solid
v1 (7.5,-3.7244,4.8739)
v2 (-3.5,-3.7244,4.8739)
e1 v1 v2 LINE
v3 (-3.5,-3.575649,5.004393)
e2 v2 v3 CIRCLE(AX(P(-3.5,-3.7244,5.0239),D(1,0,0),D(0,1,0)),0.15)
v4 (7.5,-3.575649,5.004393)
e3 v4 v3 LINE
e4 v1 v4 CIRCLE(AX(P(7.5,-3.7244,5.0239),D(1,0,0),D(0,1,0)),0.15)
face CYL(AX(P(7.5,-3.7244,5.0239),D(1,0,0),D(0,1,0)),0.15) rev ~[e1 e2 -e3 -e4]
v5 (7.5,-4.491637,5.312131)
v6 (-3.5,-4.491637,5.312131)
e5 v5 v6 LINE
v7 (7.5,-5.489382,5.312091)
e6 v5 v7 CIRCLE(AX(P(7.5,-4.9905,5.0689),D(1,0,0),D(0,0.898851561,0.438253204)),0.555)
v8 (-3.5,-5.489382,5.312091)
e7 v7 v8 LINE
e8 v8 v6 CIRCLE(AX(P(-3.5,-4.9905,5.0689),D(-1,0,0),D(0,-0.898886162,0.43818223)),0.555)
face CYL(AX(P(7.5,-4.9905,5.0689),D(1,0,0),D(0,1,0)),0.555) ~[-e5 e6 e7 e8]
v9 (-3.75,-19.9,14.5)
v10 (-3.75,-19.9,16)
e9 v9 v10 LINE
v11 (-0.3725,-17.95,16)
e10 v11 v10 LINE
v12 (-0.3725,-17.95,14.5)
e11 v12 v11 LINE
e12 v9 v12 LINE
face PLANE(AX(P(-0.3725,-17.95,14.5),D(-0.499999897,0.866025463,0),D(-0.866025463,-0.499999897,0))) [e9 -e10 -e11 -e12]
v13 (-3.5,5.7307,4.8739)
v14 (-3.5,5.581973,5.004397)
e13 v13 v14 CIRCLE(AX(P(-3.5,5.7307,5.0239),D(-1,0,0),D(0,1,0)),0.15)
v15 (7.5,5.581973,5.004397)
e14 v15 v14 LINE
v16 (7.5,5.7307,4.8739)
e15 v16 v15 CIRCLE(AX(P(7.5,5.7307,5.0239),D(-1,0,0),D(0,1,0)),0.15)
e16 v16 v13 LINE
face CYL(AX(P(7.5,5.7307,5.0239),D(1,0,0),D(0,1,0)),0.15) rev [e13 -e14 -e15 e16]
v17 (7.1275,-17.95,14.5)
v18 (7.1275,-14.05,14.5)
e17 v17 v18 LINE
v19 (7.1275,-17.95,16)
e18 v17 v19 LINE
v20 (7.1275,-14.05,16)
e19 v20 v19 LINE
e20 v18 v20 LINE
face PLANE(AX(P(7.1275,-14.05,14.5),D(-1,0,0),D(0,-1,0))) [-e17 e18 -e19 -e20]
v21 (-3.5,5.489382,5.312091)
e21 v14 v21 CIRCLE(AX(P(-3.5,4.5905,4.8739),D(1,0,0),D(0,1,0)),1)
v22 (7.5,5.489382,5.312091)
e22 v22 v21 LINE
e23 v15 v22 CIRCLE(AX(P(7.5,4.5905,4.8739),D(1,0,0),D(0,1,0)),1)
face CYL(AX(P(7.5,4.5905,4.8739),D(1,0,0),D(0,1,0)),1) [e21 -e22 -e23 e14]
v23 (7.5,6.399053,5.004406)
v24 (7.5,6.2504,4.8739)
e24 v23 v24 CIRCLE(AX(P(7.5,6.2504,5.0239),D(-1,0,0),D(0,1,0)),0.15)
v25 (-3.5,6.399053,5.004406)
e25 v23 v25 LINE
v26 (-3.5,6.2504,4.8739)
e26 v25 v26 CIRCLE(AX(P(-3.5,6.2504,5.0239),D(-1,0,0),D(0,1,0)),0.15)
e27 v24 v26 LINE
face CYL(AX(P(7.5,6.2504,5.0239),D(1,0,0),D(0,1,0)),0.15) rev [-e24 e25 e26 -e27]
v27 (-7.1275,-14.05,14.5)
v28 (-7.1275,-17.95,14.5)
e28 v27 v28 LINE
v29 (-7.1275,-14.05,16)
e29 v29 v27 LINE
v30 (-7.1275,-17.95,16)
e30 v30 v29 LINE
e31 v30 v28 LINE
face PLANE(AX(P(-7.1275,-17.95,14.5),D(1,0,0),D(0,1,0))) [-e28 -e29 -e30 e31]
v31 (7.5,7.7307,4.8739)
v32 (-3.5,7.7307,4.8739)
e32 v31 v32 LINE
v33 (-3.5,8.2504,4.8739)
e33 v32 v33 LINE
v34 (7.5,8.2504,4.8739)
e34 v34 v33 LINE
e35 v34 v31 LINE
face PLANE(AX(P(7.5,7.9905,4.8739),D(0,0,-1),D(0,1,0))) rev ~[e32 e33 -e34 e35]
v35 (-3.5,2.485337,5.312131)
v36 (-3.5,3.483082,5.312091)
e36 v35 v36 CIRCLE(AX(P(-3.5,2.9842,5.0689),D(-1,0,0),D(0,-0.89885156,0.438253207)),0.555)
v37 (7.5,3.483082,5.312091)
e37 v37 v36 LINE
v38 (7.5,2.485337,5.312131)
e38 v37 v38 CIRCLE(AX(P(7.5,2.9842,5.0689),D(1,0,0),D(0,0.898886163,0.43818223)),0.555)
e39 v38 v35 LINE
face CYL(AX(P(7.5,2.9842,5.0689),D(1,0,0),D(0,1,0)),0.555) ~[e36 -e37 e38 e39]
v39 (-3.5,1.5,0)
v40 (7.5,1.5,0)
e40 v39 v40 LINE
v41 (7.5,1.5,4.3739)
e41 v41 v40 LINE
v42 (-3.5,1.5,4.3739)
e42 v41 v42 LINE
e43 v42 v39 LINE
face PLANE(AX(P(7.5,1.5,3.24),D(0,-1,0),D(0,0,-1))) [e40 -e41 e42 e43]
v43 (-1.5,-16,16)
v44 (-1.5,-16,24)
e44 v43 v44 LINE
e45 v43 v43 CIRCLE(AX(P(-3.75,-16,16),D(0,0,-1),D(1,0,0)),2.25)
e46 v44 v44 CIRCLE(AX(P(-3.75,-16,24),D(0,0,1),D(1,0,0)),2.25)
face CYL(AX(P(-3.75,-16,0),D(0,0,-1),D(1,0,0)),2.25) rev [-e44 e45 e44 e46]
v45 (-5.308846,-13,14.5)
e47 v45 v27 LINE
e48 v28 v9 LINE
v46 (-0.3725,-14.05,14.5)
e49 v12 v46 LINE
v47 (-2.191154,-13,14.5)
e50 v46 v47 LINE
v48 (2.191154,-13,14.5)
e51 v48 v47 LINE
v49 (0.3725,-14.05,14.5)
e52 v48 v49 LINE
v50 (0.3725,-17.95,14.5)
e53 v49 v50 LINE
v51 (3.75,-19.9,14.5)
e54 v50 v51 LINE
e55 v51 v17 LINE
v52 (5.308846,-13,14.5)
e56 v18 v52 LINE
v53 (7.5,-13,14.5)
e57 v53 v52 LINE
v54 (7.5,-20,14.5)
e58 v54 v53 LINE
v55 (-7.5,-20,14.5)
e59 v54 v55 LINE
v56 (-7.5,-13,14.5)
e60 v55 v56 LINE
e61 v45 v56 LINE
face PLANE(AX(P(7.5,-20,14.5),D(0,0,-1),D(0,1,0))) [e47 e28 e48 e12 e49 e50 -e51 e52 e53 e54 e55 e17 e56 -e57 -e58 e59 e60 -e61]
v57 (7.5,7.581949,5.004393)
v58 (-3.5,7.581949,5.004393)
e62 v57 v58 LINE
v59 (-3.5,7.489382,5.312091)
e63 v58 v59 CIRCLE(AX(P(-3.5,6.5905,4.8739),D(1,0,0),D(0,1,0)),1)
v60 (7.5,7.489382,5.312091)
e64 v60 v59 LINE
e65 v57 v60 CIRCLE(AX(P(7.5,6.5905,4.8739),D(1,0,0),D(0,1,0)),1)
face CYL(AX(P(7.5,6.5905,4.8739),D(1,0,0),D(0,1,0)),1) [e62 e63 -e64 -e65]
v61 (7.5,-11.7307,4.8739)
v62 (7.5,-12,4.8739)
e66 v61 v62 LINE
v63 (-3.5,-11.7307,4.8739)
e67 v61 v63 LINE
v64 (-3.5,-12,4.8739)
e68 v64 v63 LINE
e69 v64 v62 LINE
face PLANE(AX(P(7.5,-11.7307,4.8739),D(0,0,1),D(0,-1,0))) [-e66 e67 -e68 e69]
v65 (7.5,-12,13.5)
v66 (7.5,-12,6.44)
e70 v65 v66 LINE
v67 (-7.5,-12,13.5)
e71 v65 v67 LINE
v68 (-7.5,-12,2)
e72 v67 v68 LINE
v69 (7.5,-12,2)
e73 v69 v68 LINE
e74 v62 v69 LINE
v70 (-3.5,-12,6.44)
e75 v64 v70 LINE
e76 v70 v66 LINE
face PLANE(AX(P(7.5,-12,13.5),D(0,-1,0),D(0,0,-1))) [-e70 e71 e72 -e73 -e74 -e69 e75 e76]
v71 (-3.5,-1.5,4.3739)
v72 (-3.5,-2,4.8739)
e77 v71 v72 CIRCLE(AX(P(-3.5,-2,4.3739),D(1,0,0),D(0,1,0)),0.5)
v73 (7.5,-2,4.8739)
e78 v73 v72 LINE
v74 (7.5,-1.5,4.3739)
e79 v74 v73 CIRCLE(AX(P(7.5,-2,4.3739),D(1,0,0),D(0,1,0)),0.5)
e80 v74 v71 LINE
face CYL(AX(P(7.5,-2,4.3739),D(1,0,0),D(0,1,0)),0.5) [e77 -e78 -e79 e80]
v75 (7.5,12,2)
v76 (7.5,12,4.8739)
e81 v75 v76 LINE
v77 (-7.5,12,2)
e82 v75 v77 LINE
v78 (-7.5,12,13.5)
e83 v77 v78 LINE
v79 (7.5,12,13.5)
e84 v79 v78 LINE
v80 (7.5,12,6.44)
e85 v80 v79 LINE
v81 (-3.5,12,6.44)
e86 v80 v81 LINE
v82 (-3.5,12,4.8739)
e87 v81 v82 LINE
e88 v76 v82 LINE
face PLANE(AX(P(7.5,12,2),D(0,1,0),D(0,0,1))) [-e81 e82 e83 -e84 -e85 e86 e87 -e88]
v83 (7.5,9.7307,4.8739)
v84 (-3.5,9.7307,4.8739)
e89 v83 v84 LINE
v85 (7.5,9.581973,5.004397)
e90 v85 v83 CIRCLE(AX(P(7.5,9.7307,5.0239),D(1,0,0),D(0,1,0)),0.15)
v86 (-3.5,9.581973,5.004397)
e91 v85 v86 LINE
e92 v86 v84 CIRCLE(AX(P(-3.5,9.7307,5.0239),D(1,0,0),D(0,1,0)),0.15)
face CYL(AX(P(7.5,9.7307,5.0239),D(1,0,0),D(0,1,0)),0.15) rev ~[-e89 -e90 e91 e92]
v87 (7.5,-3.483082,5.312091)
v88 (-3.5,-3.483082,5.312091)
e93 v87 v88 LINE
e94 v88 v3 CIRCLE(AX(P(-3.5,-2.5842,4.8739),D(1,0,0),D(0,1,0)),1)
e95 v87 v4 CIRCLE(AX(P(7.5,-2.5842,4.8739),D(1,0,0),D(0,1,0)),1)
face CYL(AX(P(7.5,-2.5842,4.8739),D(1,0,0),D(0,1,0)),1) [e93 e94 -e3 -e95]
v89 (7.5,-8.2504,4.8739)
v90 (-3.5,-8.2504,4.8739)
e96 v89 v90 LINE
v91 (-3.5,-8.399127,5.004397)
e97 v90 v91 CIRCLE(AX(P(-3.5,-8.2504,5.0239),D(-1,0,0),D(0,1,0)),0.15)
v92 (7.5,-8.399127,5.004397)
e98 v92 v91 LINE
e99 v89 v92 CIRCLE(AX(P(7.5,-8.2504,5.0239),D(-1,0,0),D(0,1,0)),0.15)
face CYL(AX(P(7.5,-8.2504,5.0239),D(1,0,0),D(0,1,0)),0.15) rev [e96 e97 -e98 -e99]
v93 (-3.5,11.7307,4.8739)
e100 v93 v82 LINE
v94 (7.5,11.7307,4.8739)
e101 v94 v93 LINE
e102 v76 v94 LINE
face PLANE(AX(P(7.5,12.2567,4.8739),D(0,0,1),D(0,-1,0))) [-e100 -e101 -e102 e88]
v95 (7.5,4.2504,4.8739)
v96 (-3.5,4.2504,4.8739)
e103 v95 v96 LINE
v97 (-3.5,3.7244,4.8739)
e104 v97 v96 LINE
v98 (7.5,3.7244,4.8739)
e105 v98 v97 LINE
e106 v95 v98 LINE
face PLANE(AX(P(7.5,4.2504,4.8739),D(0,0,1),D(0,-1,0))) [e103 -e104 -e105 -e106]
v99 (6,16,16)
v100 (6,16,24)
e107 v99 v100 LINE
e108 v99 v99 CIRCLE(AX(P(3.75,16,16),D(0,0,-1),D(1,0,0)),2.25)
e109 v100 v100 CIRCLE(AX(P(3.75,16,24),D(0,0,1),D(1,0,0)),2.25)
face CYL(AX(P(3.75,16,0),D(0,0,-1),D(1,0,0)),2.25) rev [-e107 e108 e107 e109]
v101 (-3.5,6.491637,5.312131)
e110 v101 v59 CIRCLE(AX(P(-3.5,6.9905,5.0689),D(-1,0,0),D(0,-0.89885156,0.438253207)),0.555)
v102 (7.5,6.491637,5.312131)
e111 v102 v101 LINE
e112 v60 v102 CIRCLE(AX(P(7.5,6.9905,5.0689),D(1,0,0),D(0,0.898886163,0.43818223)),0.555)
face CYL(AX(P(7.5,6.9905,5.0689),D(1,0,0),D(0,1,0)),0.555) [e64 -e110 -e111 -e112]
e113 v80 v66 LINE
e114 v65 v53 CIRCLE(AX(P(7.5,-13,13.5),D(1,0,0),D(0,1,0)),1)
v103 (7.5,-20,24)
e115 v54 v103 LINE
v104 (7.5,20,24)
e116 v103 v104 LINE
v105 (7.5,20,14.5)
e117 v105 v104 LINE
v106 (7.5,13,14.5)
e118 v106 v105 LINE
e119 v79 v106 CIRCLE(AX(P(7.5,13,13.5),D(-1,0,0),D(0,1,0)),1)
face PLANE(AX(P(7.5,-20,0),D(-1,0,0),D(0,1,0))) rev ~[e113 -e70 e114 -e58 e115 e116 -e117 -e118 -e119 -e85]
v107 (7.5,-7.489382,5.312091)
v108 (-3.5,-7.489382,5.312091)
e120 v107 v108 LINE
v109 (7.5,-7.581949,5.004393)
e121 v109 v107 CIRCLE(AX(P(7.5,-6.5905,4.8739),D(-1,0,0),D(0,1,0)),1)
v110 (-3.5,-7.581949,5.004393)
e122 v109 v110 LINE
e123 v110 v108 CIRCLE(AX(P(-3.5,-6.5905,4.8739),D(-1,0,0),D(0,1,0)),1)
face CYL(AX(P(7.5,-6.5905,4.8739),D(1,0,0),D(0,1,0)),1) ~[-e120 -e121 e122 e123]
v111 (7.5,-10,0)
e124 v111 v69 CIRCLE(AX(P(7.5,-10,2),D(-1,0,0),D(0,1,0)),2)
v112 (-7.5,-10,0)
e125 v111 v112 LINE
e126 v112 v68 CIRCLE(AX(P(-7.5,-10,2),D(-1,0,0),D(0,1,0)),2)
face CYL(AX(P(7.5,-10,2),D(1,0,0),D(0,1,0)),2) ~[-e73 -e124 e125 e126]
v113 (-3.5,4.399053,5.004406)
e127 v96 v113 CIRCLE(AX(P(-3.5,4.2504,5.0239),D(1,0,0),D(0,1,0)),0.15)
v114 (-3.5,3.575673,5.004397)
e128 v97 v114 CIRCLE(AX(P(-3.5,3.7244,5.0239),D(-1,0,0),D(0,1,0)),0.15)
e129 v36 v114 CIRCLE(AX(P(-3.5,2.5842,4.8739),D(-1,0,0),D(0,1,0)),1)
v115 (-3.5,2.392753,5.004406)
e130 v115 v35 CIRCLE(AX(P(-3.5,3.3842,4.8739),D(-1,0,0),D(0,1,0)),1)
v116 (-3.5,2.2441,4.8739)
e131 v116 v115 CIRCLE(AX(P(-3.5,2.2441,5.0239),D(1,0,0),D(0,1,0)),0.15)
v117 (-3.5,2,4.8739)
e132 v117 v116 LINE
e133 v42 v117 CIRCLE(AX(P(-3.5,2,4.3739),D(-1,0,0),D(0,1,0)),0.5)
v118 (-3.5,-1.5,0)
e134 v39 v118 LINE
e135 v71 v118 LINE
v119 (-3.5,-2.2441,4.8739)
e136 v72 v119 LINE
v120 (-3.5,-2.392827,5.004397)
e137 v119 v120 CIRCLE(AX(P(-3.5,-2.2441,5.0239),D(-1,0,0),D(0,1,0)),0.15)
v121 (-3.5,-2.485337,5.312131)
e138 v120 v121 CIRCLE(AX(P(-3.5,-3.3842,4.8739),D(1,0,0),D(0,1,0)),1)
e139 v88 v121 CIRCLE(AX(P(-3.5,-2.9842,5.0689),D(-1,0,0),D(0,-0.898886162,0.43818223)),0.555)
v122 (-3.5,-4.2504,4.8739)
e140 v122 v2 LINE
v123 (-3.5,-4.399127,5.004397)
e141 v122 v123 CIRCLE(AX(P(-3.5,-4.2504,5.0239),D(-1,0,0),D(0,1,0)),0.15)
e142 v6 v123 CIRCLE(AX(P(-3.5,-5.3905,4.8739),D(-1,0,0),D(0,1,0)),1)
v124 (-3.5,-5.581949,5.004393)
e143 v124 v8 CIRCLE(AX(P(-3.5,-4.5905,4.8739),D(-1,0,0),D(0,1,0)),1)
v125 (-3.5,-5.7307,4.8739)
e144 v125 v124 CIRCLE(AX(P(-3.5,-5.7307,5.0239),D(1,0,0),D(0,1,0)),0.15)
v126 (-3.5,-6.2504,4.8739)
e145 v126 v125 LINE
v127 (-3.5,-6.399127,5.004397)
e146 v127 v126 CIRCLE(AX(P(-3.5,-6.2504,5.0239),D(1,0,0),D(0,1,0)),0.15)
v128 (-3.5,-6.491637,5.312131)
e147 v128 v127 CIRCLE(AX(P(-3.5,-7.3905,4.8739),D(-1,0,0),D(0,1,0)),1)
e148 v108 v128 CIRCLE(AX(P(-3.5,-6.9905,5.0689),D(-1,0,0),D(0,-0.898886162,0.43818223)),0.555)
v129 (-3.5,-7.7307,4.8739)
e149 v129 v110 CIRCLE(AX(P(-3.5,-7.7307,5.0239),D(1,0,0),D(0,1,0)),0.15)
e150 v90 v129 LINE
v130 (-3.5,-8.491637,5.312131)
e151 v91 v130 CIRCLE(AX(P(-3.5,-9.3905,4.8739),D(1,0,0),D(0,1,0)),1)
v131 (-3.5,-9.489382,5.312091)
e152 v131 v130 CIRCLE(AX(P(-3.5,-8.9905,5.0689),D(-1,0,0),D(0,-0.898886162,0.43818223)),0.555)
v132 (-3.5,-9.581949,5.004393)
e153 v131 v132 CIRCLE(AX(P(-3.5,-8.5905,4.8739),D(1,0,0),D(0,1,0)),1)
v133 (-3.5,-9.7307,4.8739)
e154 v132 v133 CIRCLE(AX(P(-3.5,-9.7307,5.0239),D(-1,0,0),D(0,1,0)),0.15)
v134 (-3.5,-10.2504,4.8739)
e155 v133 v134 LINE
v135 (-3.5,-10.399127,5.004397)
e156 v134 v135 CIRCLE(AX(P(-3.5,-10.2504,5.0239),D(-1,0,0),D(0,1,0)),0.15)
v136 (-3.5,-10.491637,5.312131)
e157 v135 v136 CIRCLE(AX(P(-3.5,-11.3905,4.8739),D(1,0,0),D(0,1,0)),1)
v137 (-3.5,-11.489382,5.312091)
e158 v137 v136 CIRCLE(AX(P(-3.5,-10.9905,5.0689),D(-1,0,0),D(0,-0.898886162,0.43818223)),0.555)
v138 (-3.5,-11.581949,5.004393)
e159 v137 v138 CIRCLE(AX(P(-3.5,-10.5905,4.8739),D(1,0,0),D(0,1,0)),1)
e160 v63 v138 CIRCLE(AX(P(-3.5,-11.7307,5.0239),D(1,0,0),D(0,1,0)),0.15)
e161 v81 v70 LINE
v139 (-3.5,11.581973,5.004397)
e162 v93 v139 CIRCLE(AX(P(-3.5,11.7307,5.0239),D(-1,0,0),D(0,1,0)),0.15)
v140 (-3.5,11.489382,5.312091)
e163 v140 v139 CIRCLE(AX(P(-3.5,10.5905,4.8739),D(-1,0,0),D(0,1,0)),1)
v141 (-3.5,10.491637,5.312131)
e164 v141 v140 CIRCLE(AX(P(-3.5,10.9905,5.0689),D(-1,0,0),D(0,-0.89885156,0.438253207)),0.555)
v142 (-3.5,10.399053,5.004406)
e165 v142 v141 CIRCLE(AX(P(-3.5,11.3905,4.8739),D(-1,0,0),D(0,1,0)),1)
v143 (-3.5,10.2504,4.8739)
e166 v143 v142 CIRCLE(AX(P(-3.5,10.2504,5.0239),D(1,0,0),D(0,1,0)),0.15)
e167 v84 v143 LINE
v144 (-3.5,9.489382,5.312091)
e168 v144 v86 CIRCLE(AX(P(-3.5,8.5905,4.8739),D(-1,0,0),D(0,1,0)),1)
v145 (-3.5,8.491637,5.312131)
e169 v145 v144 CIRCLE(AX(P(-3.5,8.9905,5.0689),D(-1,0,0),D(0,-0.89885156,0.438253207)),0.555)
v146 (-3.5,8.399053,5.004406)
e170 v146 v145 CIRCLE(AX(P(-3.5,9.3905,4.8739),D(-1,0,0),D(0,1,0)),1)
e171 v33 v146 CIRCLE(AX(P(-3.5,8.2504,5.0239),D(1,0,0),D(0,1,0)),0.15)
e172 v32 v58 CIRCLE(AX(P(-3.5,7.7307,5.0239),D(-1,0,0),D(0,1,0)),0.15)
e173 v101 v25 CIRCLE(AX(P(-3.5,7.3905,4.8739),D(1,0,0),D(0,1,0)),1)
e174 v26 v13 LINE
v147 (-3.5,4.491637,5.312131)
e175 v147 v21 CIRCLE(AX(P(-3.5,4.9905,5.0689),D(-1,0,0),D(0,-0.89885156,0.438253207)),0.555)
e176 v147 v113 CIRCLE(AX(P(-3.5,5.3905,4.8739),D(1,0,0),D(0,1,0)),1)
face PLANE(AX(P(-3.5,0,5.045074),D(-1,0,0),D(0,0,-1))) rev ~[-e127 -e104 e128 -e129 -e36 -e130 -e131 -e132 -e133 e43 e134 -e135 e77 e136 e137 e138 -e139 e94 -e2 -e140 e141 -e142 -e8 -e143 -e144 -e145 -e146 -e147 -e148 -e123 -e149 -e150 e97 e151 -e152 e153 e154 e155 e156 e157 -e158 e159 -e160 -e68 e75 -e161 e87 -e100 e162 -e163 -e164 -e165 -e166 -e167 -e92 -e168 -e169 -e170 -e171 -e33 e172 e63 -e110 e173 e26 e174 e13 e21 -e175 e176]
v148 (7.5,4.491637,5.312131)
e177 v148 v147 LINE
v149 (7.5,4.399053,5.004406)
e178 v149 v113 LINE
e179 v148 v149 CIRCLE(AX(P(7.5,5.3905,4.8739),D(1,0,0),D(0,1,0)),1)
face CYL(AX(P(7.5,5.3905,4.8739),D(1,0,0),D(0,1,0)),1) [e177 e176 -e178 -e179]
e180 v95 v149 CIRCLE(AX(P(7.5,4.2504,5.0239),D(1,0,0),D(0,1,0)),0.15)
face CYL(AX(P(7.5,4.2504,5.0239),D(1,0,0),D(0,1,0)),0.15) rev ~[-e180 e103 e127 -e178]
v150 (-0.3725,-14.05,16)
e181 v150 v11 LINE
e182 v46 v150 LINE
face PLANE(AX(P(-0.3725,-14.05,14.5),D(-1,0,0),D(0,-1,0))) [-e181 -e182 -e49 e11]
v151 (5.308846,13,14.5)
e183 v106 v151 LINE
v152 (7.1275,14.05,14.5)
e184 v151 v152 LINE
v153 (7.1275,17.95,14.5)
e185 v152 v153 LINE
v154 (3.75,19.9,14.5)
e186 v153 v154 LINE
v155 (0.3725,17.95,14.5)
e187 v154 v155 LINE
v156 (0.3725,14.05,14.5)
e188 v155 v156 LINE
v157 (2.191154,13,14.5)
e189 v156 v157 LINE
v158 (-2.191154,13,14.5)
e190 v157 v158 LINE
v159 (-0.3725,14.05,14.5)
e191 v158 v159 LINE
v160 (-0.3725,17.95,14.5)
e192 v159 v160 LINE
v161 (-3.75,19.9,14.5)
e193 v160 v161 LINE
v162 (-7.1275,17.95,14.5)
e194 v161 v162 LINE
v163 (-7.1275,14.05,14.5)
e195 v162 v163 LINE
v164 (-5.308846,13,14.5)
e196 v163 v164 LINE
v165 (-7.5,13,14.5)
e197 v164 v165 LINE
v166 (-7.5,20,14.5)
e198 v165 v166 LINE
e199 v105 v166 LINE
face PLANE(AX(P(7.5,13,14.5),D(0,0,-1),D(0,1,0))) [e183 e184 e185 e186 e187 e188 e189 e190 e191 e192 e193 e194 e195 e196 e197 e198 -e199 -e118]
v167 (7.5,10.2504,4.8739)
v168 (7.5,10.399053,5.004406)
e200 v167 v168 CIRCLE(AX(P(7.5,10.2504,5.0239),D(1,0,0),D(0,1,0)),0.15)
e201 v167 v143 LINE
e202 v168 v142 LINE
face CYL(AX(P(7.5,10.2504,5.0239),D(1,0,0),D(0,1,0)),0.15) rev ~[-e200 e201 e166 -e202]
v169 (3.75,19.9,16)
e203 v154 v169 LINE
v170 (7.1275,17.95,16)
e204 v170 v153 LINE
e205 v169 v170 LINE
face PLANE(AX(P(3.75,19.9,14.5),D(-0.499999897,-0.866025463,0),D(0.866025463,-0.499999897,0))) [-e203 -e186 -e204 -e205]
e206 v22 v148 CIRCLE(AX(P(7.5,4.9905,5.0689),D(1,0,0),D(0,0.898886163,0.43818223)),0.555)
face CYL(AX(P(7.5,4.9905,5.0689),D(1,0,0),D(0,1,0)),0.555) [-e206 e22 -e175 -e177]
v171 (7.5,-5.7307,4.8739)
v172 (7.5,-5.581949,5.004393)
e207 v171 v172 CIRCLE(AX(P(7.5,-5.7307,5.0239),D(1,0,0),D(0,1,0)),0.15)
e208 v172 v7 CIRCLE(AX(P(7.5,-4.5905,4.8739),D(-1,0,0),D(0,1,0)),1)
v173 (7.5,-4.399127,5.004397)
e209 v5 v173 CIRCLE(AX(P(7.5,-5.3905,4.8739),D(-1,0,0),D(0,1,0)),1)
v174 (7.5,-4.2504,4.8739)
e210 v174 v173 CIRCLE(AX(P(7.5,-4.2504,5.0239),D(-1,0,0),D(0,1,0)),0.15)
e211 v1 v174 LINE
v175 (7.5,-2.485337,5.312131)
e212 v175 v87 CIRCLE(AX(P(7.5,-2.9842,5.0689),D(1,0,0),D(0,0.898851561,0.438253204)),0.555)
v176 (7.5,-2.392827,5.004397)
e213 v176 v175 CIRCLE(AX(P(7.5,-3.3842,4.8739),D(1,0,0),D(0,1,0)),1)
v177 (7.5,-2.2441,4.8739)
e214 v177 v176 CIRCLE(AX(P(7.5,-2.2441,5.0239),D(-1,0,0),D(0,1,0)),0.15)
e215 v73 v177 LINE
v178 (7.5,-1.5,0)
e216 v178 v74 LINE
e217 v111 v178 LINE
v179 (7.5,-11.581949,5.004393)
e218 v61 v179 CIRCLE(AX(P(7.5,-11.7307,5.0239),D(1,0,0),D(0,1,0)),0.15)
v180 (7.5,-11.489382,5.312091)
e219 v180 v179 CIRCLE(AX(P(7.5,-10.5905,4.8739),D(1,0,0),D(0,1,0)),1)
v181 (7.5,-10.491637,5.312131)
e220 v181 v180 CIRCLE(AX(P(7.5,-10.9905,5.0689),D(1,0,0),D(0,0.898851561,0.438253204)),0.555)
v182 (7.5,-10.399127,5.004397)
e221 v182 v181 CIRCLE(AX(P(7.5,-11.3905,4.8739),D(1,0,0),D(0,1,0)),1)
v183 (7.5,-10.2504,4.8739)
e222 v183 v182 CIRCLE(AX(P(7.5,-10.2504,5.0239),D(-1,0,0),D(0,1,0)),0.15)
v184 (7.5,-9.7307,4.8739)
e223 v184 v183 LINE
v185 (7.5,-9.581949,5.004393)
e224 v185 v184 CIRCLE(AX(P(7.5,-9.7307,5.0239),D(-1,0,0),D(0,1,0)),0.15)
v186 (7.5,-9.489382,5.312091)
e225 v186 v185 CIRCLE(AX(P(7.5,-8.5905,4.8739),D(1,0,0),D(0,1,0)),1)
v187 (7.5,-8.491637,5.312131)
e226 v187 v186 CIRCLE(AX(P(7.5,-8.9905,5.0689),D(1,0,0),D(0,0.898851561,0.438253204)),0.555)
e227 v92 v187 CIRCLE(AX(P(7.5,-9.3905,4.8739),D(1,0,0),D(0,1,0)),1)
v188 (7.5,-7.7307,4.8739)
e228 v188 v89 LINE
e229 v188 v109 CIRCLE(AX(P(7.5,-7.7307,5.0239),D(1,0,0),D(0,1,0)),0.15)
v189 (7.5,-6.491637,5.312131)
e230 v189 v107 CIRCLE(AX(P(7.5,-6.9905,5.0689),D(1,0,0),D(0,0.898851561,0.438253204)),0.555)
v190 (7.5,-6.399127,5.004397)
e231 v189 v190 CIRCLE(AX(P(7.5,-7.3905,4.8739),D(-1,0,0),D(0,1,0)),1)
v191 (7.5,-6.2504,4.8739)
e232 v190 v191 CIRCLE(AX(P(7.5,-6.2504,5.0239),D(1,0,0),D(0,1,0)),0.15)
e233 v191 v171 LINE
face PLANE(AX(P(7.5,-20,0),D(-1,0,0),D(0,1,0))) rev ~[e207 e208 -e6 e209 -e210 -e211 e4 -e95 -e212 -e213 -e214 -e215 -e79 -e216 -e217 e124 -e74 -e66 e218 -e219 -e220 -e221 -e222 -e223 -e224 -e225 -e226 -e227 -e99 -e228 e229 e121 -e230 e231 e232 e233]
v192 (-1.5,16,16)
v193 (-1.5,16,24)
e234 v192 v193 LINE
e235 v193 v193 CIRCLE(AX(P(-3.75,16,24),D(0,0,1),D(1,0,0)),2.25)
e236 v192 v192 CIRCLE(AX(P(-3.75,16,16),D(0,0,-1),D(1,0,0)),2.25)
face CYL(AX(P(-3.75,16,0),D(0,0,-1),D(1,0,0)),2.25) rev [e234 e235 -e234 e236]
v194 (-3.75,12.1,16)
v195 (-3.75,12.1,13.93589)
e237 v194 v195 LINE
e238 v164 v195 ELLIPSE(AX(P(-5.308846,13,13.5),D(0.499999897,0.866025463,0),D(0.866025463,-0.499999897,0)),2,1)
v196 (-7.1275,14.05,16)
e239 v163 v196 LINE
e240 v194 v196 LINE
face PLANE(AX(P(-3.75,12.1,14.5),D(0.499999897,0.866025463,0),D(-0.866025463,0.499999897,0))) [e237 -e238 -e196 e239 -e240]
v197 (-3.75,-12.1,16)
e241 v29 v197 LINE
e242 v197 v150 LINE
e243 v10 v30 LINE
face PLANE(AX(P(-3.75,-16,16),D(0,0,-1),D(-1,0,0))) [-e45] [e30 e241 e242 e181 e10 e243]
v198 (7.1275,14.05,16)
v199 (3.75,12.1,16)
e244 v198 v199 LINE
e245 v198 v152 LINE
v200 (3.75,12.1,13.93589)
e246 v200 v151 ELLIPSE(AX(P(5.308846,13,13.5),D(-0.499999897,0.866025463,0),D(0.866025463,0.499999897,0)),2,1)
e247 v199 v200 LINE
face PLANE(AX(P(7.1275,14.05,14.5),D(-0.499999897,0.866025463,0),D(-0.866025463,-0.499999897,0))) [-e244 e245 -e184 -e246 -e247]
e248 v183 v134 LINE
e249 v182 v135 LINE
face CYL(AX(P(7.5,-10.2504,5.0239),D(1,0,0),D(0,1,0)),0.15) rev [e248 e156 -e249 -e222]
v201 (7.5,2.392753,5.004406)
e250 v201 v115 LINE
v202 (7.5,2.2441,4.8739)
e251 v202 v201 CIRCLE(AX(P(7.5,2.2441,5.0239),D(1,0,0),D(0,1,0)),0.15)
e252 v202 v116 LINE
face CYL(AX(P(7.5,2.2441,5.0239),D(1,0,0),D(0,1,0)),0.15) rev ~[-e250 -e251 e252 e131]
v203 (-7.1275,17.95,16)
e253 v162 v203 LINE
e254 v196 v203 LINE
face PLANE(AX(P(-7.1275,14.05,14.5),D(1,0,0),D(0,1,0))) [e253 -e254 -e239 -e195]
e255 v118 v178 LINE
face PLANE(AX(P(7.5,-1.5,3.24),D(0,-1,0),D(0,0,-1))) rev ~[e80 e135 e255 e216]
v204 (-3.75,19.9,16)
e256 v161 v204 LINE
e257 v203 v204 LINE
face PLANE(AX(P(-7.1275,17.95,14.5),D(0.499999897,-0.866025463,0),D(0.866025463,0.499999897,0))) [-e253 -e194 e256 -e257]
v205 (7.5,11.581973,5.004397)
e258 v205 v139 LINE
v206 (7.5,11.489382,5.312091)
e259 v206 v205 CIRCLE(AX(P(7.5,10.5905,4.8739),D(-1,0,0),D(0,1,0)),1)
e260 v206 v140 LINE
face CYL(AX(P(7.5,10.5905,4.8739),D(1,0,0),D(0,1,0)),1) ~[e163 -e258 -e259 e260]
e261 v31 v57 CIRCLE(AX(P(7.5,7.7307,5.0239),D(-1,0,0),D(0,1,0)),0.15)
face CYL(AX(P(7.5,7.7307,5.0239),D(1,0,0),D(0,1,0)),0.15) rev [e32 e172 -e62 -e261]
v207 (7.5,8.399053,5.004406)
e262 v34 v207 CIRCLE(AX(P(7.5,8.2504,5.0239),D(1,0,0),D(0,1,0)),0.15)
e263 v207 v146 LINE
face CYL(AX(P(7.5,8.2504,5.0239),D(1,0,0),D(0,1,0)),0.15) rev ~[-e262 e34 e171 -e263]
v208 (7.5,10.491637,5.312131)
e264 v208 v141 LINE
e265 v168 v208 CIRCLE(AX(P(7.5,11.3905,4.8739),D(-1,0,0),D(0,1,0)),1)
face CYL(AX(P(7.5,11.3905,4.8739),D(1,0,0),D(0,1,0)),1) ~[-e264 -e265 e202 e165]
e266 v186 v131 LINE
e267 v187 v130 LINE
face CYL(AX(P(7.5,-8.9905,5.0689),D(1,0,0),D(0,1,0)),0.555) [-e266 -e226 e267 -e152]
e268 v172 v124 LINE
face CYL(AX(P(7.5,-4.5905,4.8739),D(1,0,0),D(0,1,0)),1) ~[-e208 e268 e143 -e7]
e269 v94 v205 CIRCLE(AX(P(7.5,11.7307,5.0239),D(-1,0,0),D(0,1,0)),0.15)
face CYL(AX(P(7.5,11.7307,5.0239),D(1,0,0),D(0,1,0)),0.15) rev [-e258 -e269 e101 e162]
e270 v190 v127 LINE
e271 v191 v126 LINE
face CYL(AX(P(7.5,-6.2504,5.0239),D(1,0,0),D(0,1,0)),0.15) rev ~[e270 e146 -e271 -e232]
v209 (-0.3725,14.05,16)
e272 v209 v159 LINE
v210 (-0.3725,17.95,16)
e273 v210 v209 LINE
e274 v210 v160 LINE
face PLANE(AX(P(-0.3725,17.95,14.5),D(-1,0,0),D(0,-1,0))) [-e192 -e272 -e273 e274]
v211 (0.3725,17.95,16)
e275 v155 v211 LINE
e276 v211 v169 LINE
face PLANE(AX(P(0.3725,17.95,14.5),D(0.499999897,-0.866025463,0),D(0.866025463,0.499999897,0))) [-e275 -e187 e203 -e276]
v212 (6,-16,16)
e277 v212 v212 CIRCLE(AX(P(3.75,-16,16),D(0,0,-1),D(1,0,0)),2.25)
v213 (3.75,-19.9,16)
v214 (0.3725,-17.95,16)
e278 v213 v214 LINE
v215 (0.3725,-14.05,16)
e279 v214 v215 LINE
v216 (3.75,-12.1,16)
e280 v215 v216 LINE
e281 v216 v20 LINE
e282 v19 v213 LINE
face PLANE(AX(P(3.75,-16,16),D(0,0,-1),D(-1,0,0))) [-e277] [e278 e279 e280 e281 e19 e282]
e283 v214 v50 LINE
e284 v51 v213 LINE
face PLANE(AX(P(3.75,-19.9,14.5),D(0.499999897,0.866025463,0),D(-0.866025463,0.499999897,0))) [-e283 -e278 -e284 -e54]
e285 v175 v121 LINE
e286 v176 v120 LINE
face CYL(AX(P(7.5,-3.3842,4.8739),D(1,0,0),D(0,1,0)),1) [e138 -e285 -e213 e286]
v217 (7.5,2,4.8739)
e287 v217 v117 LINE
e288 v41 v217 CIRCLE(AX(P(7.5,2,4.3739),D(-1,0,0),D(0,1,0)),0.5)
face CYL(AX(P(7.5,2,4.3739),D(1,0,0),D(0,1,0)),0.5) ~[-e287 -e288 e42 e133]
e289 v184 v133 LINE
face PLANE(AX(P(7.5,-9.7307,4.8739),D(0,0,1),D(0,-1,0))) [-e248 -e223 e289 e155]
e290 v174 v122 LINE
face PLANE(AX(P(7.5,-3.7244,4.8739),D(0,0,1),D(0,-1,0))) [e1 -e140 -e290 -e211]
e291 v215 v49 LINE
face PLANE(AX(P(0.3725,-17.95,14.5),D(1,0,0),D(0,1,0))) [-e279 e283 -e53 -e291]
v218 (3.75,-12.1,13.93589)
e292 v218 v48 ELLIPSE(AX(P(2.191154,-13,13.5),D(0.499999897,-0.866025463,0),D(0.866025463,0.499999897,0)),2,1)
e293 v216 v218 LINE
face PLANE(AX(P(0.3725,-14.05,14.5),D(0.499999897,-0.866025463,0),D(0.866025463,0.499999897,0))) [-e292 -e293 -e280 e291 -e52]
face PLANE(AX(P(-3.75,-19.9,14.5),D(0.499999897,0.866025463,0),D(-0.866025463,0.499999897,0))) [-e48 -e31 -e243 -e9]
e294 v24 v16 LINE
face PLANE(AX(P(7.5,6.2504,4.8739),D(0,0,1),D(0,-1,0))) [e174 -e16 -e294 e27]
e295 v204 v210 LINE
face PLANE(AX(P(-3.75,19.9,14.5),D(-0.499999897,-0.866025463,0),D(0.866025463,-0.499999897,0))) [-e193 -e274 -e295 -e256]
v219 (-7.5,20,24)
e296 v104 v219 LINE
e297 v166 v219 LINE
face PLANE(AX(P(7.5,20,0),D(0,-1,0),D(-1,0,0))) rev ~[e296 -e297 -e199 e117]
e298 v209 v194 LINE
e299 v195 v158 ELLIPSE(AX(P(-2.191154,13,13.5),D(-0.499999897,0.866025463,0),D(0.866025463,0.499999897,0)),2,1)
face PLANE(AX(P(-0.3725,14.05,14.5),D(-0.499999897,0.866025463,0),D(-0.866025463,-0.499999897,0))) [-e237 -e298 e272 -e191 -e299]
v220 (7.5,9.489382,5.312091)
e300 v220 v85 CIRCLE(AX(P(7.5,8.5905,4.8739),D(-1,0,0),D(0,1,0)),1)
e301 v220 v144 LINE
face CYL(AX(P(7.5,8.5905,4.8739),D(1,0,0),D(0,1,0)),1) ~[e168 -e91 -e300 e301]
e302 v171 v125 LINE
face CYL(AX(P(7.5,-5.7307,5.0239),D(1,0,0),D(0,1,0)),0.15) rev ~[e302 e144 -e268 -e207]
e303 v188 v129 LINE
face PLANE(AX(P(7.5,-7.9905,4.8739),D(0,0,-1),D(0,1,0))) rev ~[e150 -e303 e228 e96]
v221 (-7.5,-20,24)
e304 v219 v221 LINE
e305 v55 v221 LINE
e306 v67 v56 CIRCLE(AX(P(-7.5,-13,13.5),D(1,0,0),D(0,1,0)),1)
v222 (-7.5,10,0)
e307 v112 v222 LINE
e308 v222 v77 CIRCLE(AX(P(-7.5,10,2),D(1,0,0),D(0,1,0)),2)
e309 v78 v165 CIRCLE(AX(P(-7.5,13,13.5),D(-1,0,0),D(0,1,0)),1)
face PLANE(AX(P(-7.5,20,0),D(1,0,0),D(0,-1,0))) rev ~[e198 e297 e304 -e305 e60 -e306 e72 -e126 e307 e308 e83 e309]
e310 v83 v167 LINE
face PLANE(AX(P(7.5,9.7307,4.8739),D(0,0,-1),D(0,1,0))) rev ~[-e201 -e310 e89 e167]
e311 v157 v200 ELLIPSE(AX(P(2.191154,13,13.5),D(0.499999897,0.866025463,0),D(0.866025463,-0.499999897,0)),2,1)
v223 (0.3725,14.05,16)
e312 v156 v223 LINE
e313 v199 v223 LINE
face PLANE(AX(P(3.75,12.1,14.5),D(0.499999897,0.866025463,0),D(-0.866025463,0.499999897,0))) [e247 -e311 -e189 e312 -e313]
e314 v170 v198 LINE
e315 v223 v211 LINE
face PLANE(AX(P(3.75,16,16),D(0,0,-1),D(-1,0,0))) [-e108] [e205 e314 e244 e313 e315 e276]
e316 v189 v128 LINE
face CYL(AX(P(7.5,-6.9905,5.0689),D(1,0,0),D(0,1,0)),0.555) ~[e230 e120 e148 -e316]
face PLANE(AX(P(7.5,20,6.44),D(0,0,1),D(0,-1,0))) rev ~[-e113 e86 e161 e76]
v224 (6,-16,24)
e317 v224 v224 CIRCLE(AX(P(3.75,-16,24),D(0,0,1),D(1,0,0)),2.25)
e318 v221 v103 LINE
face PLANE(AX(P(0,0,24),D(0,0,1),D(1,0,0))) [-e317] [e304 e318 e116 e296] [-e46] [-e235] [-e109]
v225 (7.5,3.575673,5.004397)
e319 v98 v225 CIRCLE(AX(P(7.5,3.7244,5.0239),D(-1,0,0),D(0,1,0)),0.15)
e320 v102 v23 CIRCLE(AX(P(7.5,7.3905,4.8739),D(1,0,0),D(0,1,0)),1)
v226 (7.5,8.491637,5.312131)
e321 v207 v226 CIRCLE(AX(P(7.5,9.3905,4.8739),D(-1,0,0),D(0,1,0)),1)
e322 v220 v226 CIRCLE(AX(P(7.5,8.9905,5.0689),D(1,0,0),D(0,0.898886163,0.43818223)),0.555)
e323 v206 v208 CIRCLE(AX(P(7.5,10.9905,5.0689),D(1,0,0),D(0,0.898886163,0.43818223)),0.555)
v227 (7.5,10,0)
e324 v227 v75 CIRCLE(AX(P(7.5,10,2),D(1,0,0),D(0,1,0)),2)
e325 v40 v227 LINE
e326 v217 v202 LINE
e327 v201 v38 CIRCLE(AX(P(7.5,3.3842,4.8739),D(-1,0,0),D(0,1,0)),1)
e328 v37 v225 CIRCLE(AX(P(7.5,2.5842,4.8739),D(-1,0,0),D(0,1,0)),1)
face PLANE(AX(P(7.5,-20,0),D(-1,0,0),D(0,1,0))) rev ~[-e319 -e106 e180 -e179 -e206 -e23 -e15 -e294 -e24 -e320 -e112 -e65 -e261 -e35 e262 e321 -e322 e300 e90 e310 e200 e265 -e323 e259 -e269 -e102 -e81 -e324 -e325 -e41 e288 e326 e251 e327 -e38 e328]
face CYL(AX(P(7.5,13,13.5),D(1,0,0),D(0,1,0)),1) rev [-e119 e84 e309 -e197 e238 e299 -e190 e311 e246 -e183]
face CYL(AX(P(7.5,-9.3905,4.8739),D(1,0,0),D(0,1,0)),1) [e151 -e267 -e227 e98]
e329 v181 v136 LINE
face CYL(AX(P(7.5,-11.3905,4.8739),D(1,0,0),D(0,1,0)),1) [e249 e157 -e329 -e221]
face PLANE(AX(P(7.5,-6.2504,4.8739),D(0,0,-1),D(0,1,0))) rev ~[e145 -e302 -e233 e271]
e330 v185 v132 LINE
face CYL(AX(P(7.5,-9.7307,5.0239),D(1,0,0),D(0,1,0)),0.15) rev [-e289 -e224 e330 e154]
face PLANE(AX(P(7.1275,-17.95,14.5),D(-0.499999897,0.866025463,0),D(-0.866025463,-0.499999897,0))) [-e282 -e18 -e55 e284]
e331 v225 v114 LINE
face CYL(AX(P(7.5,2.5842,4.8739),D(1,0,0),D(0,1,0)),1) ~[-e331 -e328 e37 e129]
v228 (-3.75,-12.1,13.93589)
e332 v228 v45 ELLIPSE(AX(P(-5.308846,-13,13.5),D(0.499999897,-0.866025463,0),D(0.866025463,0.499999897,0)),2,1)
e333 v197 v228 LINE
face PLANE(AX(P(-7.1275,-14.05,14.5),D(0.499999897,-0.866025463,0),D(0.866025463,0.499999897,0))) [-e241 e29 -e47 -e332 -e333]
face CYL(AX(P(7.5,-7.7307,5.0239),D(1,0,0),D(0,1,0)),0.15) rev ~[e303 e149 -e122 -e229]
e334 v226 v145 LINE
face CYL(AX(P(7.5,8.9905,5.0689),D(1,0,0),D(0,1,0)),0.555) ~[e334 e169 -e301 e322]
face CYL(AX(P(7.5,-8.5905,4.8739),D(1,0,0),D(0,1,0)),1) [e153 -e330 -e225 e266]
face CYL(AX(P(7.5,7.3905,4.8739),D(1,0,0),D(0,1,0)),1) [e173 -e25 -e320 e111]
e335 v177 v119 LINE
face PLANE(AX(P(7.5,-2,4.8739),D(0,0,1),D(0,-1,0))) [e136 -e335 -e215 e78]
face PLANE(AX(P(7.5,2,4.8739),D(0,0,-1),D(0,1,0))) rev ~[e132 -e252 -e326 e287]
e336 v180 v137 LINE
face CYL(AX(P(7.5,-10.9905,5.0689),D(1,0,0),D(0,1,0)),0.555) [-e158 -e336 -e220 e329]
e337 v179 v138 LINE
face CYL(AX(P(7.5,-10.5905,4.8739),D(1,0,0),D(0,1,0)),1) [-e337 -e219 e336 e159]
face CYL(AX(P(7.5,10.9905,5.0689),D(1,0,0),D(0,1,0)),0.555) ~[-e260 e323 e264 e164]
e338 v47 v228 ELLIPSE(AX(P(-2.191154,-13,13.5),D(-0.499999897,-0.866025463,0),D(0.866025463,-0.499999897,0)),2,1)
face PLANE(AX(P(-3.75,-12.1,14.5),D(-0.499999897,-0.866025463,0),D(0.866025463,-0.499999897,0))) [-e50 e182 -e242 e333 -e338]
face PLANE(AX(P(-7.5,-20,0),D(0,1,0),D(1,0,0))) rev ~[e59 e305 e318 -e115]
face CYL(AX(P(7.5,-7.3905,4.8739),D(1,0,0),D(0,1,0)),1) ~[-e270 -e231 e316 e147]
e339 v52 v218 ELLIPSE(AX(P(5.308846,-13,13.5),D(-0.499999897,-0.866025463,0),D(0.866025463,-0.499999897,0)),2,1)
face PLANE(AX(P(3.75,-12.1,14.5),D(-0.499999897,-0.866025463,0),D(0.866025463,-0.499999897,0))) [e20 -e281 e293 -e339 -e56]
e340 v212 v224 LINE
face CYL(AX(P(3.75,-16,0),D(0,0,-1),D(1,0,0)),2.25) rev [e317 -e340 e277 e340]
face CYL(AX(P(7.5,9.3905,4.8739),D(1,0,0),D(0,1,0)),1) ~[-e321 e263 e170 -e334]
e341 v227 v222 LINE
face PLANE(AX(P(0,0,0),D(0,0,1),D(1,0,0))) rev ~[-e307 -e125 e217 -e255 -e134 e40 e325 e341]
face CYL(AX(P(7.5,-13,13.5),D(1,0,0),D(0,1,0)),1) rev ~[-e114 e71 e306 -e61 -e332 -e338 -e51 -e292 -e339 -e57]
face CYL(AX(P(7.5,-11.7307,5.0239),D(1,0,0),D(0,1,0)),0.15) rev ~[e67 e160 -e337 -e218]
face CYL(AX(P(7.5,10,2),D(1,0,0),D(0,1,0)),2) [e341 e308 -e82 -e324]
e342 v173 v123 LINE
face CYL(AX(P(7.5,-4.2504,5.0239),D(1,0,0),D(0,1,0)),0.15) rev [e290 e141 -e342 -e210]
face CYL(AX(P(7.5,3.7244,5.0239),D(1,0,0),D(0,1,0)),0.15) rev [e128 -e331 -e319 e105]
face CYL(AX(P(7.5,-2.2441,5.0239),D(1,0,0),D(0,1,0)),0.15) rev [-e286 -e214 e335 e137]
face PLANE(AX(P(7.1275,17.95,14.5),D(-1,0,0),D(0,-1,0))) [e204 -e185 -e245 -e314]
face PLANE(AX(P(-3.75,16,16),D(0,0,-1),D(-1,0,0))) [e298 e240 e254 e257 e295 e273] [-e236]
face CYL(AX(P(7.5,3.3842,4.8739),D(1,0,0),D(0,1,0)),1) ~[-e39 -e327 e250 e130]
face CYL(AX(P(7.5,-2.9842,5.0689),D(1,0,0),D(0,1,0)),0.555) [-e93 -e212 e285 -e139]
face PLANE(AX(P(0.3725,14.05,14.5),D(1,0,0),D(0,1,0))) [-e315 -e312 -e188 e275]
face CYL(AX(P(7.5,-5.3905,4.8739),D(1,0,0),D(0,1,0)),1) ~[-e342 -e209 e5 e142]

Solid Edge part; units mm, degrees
sketch "Sketch1" plane through (0, 0, 0) normal (0, 0, 1) x (1, 0, 0)
  circle A0 centre (-3.75, 16) radius 2.25
  circle A1 centre (3.75, 16) radius 2.25
  circle A2 centre (-3.75, -16) radius 2.25
  circle A3 centre (3.75, -16) radius 2.25
  line L0 (-7.5, -20) -> (7.5, -20)
  line L1 (7.5, -20) -> (7.5, 20)
  line L2 (7.5, 20) -> (-7.5, 20)
  line L3 (-7.5, 20) -> (-7.5, -20)
extrude "Protrusion1" add sketch "Sketch1" along normal blind 24
sketch "Sketch2" plane through (7.5, 0, 11.25) normal (1, 0, 0) x (0, 1, 0)
  arc A0 (7.582, -6.2456) -> (7.4894, -5.9379) centre (6.5905, -6.3761) ccw
  arc A1 (7.4894, -5.9379) -> (6.9905, -5.6261) centre (6.9905, -6.1811) ccw
  arc A2 (6.9905, -5.6261) -> (6.4917, -5.9379) centre (6.9905, -6.1811) ccw
  arc A3 (6.4917, -5.9379) -> (6.3991, -6.2456) centre (7.3905, -6.3761) ccw
  arc A4 (6.3991, -6.2456) -> (6.2504, -6.3761) centre (6.2504, -6.2261) cw
  line L0 (6.2504, -6.3761) -> (5.7307, -6.3761)
  arc A5 (5.7307, -6.3761) -> (5.582, -6.2456) centre (5.7307, -6.2261) cw
  arc A6 (5.582, -6.2456) -> (5.4894, -5.9379) centre (4.5905, -6.3761) ccw
  arc A7 (5.4894, -5.9379) -> (4.9905, -5.6261) centre (4.9905, -6.1811) ccw
  arc A8 (4.9905, -5.6261) -> (4.4917, -5.9379) centre (4.9905, -6.1811) ccw
  arc A9 (4.4917, -5.9379) -> (4.3991, -6.2456) centre (5.3905, -6.3761) ccw
  arc A10 (4.2504, -6.3761) -> (4.3991, -6.2456) centre (4.2504, -6.2261) ccw
  line L1 (4.2504, -6.3761) -> (3.9874, -6.3761)
  line L2 (3.7244, -6.3761) -> (3.9874, -6.3761)
  arc A11 (3.7244, -6.3761) -> (3.5757, -6.2456) centre (3.7244, -6.2261) cw
  arc A12 (3.4831, -5.9379) -> (3.5757, -6.2456) centre (2.5842, -6.3761) cw
  arc A13 (2.9842, -5.6261) -> (3.4831, -5.9379) centre (2.9842, -6.1811) cw
  arc A14 (2.4854, -5.9379) -> (2.9842, -5.6261) centre (2.9842, -6.1811) cw
  arc A15 (2.3928, -6.2456) -> (2.4854, -5.9379) centre (3.3842, -6.3761) cw
  arc A16 (2.2441, -6.3761) -> (2.3928, -6.2456) centre (2.2441, -6.2261) ccw
  line L3 (2, -6.3761) -> (2.2441, -6.3761)
  arc A17 (1.5, -6.8761) -> (2, -6.3761) centre (2, -6.8761) cw
  line L4 (1.5, -8.01) -> (1.5, -6.8761)
  line L5 (1.5, -8.01) -> (1.5, -13.01)
  line L6 (1.5, -13.01) -> (-1.5, -13.01)
  line L7 (-1.5, -8.01) -> (-1.5, -13.01)
  line L8 (-1.5, -8.01) -> (-1.5, -6.8761)
  arc A18 (-1.5, -6.8761) -> (-2, -6.3761) centre (-2, -6.8761) ccw
  line L9 (-2, -6.3761) -> (-2.2441, -6.3761)
  arc A19 (-2.2441, -6.3761) -> (-2.3928, -6.2456) centre (-2.2441, -6.2261) cw
  arc A20 (-2.3928, -6.2456) -> (-2.4854, -5.9379) centre (-3.3842, -6.3761) ccw
  arc A21 (-2.4854, -5.9379) -> (-2.9842, -5.6261) centre (-2.9842, -6.1811) ccw
  arc A22 (-2.9842, -5.6261) -> (-3.4831, -5.9379) centre (-2.9842, -6.1811) ccw
  arc A23 (-3.4831, -5.9379) -> (-3.5757, -6.2456) centre (-2.5842, -6.3761) ccw
  arc A24 (-3.7244, -6.3761) -> (-3.5757, -6.2456) centre (-3.7244, -6.2261) ccw
  line L10 (-3.7244, -6.3761) -> (-3.9874, -6.3761)
  line L11 (-4.2504, -6.3761) -> (-3.9874, -6.3761)
  arc A25 (-4.2504, -6.3761) -> (-4.3991, -6.2456) centre (-4.2504, -6.2261) cw
  arc A26 (-4.4917, -5.9379) -> (-4.3991, -6.2456) centre (-5.3905, -6.3761) cw
  arc A27 (-4.9905, -5.6261) -> (-4.4917, -5.9379) centre (-4.9905, -6.1811) cw
  arc A28 (-5.4894, -5.9379) -> (-4.9905, -5.6261) centre (-4.9905, -6.1811) cw
  arc A29 (-5.582, -6.2456) -> (-5.4894, -5.9379) centre (-4.5905, -6.3761) cw
  arc A30 (-5.7307, -6.3761) -> (-5.582, -6.2456) centre (-5.7307, -6.2261) ccw
  line L12 (-6.2504, -6.3761) -> (-5.7307, -6.3761)
  arc A31 (-6.3991, -6.2456) -> (-6.2504, -6.3761) centre (-6.2504, -6.2261) ccw
  arc A32 (-6.4917, -5.9379) -> (-6.3991, -6.2456) centre (-7.3905, -6.3761) cw
  arc A33 (-6.9905, -5.6261) -> (-6.4917, -5.9379) centre (-6.9905, -6.1811) cw
  arc A34 (-7.4894, -5.9379) -> (-6.9905, -5.6261) centre (-6.9905, -6.1811) cw
  arc A35 (-7.582, -6.2456) -> (-7.4894, -5.9379) centre (-6.5905, -6.3761) cw
  arc A36 (-7.7307, -6.3761) -> (-7.582, -6.2456) centre (-7.7307, -6.2261) ccw
  line L13 (-7.9905, -6.3761) -> (-7.7307, -6.3761)
  line L14 (-7.9905, -6.3761) -> (-8.2504, -6.3761)
  arc A37 (-8.2504, -6.3761) -> (-8.3991, -6.2456) centre (-8.2504, -6.2261) cw
  arc A38 (-8.3991, -6.2456) -> (-8.4917, -5.9379) centre (-9.3905, -6.3761) ccw
  arc A39 (-8.4917, -5.9379) -> (-8.9905, -5.6261) centre (-8.9905, -6.1811) ccw
  arc A40 (-8.9905, -5.6261) -> (-9.4894, -5.9379) centre (-8.9905, -6.1811) ccw
  arc A41 (-9.4894, -5.9379) -> (-9.582, -6.2456) centre (-8.5905, -6.3761) ccw
  arc A42 (-9.582, -6.2456) -> (-9.7307, -6.3761) centre (-9.7307, -6.2261) cw
  line L15 (-9.7307, -6.3761) -> (-10.2504, -6.3761)
  arc A43 (-10.2504, -6.3761) -> (-10.3991, -6.2456) centre (-10.2504, -6.2261) cw
  arc A44 (-10.3991, -6.2456) -> (-10.4917, -5.9379) centre (-11.3905, -6.3761) ccw
  arc A45 (-10.4917, -5.9379) -> (-10.9905, -5.6261) centre (-10.9905, -6.1811) ccw
  arc A46 (-10.9905, -5.6261) -> (-11.4894, -5.9379) centre (-10.9905, -6.1811) ccw
  arc A47 (-11.4894, -5.9379) -> (-11.582, -6.2456) centre (-10.5905, -6.3761) ccw
  arc A48 (-11.7307, -6.3761) -> (-11.582, -6.2456) centre (-11.7307, -6.2261) ccw
  line L16 (-11.7307, -6.3761) -> (-11.9937, -6.3761)
  line L17 (-12.2567, -6.3761) -> (-11.9937, -6.3761)
  arc A49 (-12.2567, -6.3761) -> (-12.4054, -6.2456) centre (-12.2567, -6.2261) cw
  arc A50 (-12.498, -5.9379) -> (-12.4054, -6.2456) centre (-13.3968, -6.3761) cw
  arc A51 (-12.9968, -5.6261) -> (-12.498, -5.9379) centre (-12.9968, -6.1811) cw
  arc A52 (-13.4957, -5.9379) -> (-12.9968, -5.6261) centre (-12.9968, -6.1811) cw
  arc A53 (-13.5883, -6.2456) -> (-13.4957, -5.9379) centre (-12.5968, -6.3761) cw
  arc A54 (-13.737, -6.3761) -> (-13.5883, -6.2456) centre (-13.737, -6.2261) ccw
  line L18 (-14.2567, -6.3761) -> (-13.737, -6.3761)
  arc A55 (-14.4054, -6.2456) -> (-14.2567, -6.3761) centre (-14.2567, -6.2261) ccw
  arc A56 (-14.498, -5.9379) -> (-14.4054, -6.2456) centre (-15.3968, -6.3761) cw
  arc A57 (-14.9968, -5.6261) -> (-14.498, -5.9379) centre (-14.9968, -6.1811) cw
  arc A58 (-15.4957, -5.9379) -> (-14.9968, -5.6261) centre (-14.9968, -6.1811) cw
  arc A59 (-15.5883, -6.2456) -> (-15.4957, -5.9379) centre (-14.5968, -6.3761) cw
  arc A60 (-15.737, -6.3761) -> (-15.5883, -6.2456) centre (-15.737, -6.2261) ccw
  line L19 (-15.9968, -6.3761) -> (-15.737, -6.3761)
  line L20 (-15.9968, -6.3761) -> (-16.2567, -6.3761)
  arc A61 (-16.2567, -6.3761) -> (-16.4054, -6.2456) centre (-16.2567, -6.2261) cw
  arc A62 (-16.4054, -6.2456) -> (-16.498, -5.9379) centre (-17.3968, -6.3761) ccw
  arc A63 (-16.498, -5.9379) -> (-16.9968, -5.6261) centre (-16.9968, -6.1811) ccw
  arc A64 (-16.9968, -5.6261) -> (-17.4957, -5.9379) centre (-16.9968, -6.1811) ccw
  arc A65 (-17.4957, -5.9379) -> (-17.5883, -6.2456) centre (-16.5968, -6.3761) ccw
  arc A66 (-17.5883, -6.2456) -> (-17.737, -6.3761) centre (-17.737, -6.2261) cw
  line L21 (-17.737, -6.3761) -> (-18.2567, -6.3761)
  arc A67 (-18.2567, -6.3761) -> (-18.4054, -6.2456) centre (-18.2567, -6.2261) cw
  arc A68 (-18.4054, -6.2456) -> (-18.498, -5.9379) centre (-19.3968, -6.3761) ccw
  arc A69 (-18.498, -5.9379) -> (-18.9968, -5.6261) centre (-18.9968, -6.1811) ccw
  arc A70 (-18.9968, -5.6261) -> (-19.4957, -5.9379) centre (-18.9968, -6.1811) ccw
  arc A71 (-19.4957, -5.9379) -> (-19.5883, -6.2456) centre (-18.5968, -6.3761) ccw
  arc A72 (-19.737, -6.3761) -> (-19.5883, -6.2456) centre (-19.737, -6.2261) ccw
  line L22 (-19.737, -6.3761) -> (-20, -6.3761)
  line L23 (-20, -4.81) -> (-20, -6.3761)
  line L24 (20, -4.81) -> (-20, -4.81)
  line L25 (20, -4.81) -> (20, -6.3761)
  line L26 (19.737, -6.3761) -> (20, -6.3761)
  arc A73 (19.737, -6.3761) -> (19.5883, -6.2456) centre (19.737, -6.2261) cw
  arc A74 (19.4957, -5.9379) -> (19.5883, -6.2456) centre (18.5968, -6.3761) cw
  arc A75 (18.9968, -5.6261) -> (19.4957, -5.9379) centre (18.9968, -6.1811) cw
  arc A76 (18.498, -5.9379) -> (18.9968, -5.6261) centre (18.9968, -6.1811) cw
  arc A77 (18.4054, -6.2456) -> (18.498, -5.9379) centre (19.3968, -6.3761) cw
  arc A78 (18.2567, -6.3761) -> (18.4054, -6.2456) centre (18.2567, -6.2261) ccw
  line L27 (17.737, -6.3761) -> (18.2567, -6.3761)
  arc A79 (17.5883, -6.2456) -> (17.737, -6.3761) centre (17.737, -6.2261) ccw
  arc A80 (17.4957, -5.9379) -> (17.5883, -6.2456) centre (16.5968, -6.3761) cw
  arc A81 (16.9968, -5.6261) -> (17.4957, -5.9379) centre (16.9968, -6.1811) cw
  arc A82 (16.498, -5.9379) -> (16.9968, -5.6261) centre (16.9968, -6.1811) cw
  arc A83 (16.4054, -6.2456) -> (16.498, -5.9379) centre (17.3968, -6.3761) cw
  arc A84 (16.2567, -6.3761) -> (16.4054, -6.2456) centre (16.2567, -6.2261) ccw
  line L28 (15.9968, -6.3761) -> (16.2567, -6.3761)
  line L29 (15.9968, -6.3761) -> (15.737, -6.3761)
  arc A85 (15.737, -6.3761) -> (15.5883, -6.2456) centre (15.737, -6.2261) cw
  arc A86 (15.5883, -6.2456) -> (15.4957, -5.9379) centre (14.5968, -6.3761) ccw
  arc A87 (15.4957, -5.9379) -> (14.9968, -5.6261) centre (14.9968, -6.1811) ccw
  arc A88 (14.9968, -5.6261) -> (14.498, -5.9379) centre (14.9968, -6.1811) ccw
  arc A89 (14.498, -5.9379) -> (14.4054, -6.2456) centre (15.3968, -6.3761) ccw
  arc A90 (14.4054, -6.2456) -> (14.2567, -6.3761) centre (14.2567, -6.2261) cw
  line L30 (14.2567, -6.3761) -> (13.737, -6.3761)
  arc A91 (13.737, -6.3761) -> (13.5883, -6.2456) centre (13.737, -6.2261) cw
  arc A92 (13.5883, -6.2456) -> (13.4957, -5.9379) centre (12.5968, -6.3761) ccw
  arc A93 (13.4957, -5.9379) -> (12.9968, -5.6261) centre (12.9968, -6.1811) ccw
  arc A94 (12.9968, -5.6261) -> (12.498, -5.9379) centre (12.9968, -6.1811) ccw
  arc A95 (12.498, -5.9379) -> (12.4054, -6.2456) centre (13.3968, -6.3761) ccw
  arc A96 (12.2567, -6.3761) -> (12.4054, -6.2456) centre (12.2567, -6.2261) ccw
  line L31 (12.2567, -6.3761) -> (11.9937, -6.3761)
  line L32 (11.7307, -6.3761) -> (11.9937, -6.3761)
  arc A97 (11.7307, -6.3761) -> (11.582, -6.2456) centre (11.7307, -6.2261) cw
  arc A98 (11.4894, -5.9379) -> (11.582, -6.2456) centre (10.5905, -6.3761) cw
  arc A99 (10.9905, -5.6261) -> (11.4894, -5.9379) centre (10.9905, -6.1811) cw
  arc A100 (10.4917, -5.9379) -> (10.9905, -5.6261) centre (10.9905, -6.1811) cw
  arc A101 (10.3991, -6.2456) -> (10.4917, -5.9379) centre (11.3905, -6.3761) cw
  arc A102 (10.2504, -6.3761) -> (10.3991, -6.2456) centre (10.2504, -6.2261) ccw
  line L33 (9.7307, -6.3761) -> (10.2504, -6.3761)
  arc A103 (9.582, -6.2456) -> (9.7307, -6.3761) centre (9.7307, -6.2261) ccw
  arc A104 (9.4894, -5.9379) -> (9.582, -6.2456) centre (8.5905, -6.3761) cw
  arc A105 (8.9905, -5.6261) -> (9.4894, -5.9379) centre (8.9905, -6.1811) cw
  arc A106 (8.4917, -5.9379) -> (8.9905, -5.6261) centre (8.9905, -6.1811) cw
  arc A107 (8.3991, -6.2456) -> (8.4917, -5.9379) centre (9.3905, -6.3761) cw
  arc A108 (8.2504, -6.3761) -> (8.3991, -6.2456) centre (8.2504, -6.2261) ccw
  line L34 (7.9905, -6.3761) -> (8.2504, -6.3761)
  line L35 (7.9905, -6.3761) -> (7.7307, -6.3761)
  arc A109 (7.7307, -6.3761) -> (7.582, -6.2456) centre (7.7307, -6.2261) cw
extrude "ExtrudedCutout_2" cut sketch "Sketch2" against normal blind 11
sketch "Sketch3" plane through (7.5, 0, 15.35) normal (1, 0, 0) x (0, 1, 0)
  arc A0 (-10, -15.35) -> (-12, -13.35) centre (-10, -13.35) cw
  line L0 (-12, -1.85) -> (-12, -13.35)
  arc A1 (-12, -1.85) -> (-13, -0.85) centre (-13, -1.85) ccw
  line L1 (-20, -0.85) -> (-13, -0.85)
  line L2 (-20, -15.35) -> (-20, -0.85)
  line L3 (-20, -20.85) -> (-20, -15.35)
  line L4 (20, -20.85) -> (-20, -20.85)
  line L5 (20, -0.85) -> (20, -20.85)
  line L6 (13, -0.85) -> (20, -0.85)
  arc A2 (12, -1.85) -> (13, -0.85) centre (13, -1.85) cw
  line L7 (12, -13.35) -> (12, -1.85)
  arc A3 (10, -15.35) -> (12, -13.35) centre (10, -13.35) ccw
  line L8 (-10, -15.35) -> (10, -15.35)
extrude "Cutout1" cut sketch "Sketch3" against normal blind 15
sketch "Sketch4" plane through (0, -16, 14.5) normal (0, 0, -1) x (0, 1, 0)
  line L0 (-3.9, 3.75) -> (-1.95, 0.3725)
  line L1 (-1.95, 0.3725) -> (1.95, 0.3725)
  line L2 (1.95, 0.3725) -> (3.9, 3.75)
  line L3 (3.9, 3.75) -> (1.95, 7.1275)
  line L4 (1.95, 7.1275) -> (-1.95, 7.1275)
  line L5 (-1.95, 7.1275) -> (-3.9, 3.75)
  line L6 (-3.9, -3.75) -> (-1.95, -7.1275)
  line L7 (-1.95, -7.1275) -> (1.95, -7.1275)
  line L8 (1.95, -7.1275) -> (3.9, -3.75)
  line L9 (3.9, -3.75) -> (1.95, -0.3725)
  line L10 (1.95, -0.3725) -> (-1.95, -0.3725)
  line L11 (-1.95, -0.3725) -> (-3.9, -3.75)
  line L12 (35.9, 3.75) -> (33.95, 7.1275)
  line L13 (33.95, 7.1275) -> (30.05, 7.1275)
  line L14 (30.05, 7.1275) -> (28.1, 3.75)
  line L15 (28.1, 3.75) -> (30.05, 0.3725)
  line L16 (30.05, 0.3725) -> (33.95, 0.3725)
  line L17 (33.95, 0.3725) -> (35.9, 3.75)
  line L18 (35.9, -3.75) -> (33.95, -0.3725)
  line L19 (33.95, -0.3725) -> (30.05, -0.3725)
  line L20 (30.05, -0.3725) -> (28.1, -3.75)
  line L21 (28.1, -3.75) -> (30.05, -7.1275)
  line L22 (30.05, -7.1275) -> (33.95, -7.1275)
  line L23 (33.95, -7.1275) -> (35.9, -3.75)
extrude "ExtrudedCutout_7" cut sketch "Sketch4" along normal mid plane 3
